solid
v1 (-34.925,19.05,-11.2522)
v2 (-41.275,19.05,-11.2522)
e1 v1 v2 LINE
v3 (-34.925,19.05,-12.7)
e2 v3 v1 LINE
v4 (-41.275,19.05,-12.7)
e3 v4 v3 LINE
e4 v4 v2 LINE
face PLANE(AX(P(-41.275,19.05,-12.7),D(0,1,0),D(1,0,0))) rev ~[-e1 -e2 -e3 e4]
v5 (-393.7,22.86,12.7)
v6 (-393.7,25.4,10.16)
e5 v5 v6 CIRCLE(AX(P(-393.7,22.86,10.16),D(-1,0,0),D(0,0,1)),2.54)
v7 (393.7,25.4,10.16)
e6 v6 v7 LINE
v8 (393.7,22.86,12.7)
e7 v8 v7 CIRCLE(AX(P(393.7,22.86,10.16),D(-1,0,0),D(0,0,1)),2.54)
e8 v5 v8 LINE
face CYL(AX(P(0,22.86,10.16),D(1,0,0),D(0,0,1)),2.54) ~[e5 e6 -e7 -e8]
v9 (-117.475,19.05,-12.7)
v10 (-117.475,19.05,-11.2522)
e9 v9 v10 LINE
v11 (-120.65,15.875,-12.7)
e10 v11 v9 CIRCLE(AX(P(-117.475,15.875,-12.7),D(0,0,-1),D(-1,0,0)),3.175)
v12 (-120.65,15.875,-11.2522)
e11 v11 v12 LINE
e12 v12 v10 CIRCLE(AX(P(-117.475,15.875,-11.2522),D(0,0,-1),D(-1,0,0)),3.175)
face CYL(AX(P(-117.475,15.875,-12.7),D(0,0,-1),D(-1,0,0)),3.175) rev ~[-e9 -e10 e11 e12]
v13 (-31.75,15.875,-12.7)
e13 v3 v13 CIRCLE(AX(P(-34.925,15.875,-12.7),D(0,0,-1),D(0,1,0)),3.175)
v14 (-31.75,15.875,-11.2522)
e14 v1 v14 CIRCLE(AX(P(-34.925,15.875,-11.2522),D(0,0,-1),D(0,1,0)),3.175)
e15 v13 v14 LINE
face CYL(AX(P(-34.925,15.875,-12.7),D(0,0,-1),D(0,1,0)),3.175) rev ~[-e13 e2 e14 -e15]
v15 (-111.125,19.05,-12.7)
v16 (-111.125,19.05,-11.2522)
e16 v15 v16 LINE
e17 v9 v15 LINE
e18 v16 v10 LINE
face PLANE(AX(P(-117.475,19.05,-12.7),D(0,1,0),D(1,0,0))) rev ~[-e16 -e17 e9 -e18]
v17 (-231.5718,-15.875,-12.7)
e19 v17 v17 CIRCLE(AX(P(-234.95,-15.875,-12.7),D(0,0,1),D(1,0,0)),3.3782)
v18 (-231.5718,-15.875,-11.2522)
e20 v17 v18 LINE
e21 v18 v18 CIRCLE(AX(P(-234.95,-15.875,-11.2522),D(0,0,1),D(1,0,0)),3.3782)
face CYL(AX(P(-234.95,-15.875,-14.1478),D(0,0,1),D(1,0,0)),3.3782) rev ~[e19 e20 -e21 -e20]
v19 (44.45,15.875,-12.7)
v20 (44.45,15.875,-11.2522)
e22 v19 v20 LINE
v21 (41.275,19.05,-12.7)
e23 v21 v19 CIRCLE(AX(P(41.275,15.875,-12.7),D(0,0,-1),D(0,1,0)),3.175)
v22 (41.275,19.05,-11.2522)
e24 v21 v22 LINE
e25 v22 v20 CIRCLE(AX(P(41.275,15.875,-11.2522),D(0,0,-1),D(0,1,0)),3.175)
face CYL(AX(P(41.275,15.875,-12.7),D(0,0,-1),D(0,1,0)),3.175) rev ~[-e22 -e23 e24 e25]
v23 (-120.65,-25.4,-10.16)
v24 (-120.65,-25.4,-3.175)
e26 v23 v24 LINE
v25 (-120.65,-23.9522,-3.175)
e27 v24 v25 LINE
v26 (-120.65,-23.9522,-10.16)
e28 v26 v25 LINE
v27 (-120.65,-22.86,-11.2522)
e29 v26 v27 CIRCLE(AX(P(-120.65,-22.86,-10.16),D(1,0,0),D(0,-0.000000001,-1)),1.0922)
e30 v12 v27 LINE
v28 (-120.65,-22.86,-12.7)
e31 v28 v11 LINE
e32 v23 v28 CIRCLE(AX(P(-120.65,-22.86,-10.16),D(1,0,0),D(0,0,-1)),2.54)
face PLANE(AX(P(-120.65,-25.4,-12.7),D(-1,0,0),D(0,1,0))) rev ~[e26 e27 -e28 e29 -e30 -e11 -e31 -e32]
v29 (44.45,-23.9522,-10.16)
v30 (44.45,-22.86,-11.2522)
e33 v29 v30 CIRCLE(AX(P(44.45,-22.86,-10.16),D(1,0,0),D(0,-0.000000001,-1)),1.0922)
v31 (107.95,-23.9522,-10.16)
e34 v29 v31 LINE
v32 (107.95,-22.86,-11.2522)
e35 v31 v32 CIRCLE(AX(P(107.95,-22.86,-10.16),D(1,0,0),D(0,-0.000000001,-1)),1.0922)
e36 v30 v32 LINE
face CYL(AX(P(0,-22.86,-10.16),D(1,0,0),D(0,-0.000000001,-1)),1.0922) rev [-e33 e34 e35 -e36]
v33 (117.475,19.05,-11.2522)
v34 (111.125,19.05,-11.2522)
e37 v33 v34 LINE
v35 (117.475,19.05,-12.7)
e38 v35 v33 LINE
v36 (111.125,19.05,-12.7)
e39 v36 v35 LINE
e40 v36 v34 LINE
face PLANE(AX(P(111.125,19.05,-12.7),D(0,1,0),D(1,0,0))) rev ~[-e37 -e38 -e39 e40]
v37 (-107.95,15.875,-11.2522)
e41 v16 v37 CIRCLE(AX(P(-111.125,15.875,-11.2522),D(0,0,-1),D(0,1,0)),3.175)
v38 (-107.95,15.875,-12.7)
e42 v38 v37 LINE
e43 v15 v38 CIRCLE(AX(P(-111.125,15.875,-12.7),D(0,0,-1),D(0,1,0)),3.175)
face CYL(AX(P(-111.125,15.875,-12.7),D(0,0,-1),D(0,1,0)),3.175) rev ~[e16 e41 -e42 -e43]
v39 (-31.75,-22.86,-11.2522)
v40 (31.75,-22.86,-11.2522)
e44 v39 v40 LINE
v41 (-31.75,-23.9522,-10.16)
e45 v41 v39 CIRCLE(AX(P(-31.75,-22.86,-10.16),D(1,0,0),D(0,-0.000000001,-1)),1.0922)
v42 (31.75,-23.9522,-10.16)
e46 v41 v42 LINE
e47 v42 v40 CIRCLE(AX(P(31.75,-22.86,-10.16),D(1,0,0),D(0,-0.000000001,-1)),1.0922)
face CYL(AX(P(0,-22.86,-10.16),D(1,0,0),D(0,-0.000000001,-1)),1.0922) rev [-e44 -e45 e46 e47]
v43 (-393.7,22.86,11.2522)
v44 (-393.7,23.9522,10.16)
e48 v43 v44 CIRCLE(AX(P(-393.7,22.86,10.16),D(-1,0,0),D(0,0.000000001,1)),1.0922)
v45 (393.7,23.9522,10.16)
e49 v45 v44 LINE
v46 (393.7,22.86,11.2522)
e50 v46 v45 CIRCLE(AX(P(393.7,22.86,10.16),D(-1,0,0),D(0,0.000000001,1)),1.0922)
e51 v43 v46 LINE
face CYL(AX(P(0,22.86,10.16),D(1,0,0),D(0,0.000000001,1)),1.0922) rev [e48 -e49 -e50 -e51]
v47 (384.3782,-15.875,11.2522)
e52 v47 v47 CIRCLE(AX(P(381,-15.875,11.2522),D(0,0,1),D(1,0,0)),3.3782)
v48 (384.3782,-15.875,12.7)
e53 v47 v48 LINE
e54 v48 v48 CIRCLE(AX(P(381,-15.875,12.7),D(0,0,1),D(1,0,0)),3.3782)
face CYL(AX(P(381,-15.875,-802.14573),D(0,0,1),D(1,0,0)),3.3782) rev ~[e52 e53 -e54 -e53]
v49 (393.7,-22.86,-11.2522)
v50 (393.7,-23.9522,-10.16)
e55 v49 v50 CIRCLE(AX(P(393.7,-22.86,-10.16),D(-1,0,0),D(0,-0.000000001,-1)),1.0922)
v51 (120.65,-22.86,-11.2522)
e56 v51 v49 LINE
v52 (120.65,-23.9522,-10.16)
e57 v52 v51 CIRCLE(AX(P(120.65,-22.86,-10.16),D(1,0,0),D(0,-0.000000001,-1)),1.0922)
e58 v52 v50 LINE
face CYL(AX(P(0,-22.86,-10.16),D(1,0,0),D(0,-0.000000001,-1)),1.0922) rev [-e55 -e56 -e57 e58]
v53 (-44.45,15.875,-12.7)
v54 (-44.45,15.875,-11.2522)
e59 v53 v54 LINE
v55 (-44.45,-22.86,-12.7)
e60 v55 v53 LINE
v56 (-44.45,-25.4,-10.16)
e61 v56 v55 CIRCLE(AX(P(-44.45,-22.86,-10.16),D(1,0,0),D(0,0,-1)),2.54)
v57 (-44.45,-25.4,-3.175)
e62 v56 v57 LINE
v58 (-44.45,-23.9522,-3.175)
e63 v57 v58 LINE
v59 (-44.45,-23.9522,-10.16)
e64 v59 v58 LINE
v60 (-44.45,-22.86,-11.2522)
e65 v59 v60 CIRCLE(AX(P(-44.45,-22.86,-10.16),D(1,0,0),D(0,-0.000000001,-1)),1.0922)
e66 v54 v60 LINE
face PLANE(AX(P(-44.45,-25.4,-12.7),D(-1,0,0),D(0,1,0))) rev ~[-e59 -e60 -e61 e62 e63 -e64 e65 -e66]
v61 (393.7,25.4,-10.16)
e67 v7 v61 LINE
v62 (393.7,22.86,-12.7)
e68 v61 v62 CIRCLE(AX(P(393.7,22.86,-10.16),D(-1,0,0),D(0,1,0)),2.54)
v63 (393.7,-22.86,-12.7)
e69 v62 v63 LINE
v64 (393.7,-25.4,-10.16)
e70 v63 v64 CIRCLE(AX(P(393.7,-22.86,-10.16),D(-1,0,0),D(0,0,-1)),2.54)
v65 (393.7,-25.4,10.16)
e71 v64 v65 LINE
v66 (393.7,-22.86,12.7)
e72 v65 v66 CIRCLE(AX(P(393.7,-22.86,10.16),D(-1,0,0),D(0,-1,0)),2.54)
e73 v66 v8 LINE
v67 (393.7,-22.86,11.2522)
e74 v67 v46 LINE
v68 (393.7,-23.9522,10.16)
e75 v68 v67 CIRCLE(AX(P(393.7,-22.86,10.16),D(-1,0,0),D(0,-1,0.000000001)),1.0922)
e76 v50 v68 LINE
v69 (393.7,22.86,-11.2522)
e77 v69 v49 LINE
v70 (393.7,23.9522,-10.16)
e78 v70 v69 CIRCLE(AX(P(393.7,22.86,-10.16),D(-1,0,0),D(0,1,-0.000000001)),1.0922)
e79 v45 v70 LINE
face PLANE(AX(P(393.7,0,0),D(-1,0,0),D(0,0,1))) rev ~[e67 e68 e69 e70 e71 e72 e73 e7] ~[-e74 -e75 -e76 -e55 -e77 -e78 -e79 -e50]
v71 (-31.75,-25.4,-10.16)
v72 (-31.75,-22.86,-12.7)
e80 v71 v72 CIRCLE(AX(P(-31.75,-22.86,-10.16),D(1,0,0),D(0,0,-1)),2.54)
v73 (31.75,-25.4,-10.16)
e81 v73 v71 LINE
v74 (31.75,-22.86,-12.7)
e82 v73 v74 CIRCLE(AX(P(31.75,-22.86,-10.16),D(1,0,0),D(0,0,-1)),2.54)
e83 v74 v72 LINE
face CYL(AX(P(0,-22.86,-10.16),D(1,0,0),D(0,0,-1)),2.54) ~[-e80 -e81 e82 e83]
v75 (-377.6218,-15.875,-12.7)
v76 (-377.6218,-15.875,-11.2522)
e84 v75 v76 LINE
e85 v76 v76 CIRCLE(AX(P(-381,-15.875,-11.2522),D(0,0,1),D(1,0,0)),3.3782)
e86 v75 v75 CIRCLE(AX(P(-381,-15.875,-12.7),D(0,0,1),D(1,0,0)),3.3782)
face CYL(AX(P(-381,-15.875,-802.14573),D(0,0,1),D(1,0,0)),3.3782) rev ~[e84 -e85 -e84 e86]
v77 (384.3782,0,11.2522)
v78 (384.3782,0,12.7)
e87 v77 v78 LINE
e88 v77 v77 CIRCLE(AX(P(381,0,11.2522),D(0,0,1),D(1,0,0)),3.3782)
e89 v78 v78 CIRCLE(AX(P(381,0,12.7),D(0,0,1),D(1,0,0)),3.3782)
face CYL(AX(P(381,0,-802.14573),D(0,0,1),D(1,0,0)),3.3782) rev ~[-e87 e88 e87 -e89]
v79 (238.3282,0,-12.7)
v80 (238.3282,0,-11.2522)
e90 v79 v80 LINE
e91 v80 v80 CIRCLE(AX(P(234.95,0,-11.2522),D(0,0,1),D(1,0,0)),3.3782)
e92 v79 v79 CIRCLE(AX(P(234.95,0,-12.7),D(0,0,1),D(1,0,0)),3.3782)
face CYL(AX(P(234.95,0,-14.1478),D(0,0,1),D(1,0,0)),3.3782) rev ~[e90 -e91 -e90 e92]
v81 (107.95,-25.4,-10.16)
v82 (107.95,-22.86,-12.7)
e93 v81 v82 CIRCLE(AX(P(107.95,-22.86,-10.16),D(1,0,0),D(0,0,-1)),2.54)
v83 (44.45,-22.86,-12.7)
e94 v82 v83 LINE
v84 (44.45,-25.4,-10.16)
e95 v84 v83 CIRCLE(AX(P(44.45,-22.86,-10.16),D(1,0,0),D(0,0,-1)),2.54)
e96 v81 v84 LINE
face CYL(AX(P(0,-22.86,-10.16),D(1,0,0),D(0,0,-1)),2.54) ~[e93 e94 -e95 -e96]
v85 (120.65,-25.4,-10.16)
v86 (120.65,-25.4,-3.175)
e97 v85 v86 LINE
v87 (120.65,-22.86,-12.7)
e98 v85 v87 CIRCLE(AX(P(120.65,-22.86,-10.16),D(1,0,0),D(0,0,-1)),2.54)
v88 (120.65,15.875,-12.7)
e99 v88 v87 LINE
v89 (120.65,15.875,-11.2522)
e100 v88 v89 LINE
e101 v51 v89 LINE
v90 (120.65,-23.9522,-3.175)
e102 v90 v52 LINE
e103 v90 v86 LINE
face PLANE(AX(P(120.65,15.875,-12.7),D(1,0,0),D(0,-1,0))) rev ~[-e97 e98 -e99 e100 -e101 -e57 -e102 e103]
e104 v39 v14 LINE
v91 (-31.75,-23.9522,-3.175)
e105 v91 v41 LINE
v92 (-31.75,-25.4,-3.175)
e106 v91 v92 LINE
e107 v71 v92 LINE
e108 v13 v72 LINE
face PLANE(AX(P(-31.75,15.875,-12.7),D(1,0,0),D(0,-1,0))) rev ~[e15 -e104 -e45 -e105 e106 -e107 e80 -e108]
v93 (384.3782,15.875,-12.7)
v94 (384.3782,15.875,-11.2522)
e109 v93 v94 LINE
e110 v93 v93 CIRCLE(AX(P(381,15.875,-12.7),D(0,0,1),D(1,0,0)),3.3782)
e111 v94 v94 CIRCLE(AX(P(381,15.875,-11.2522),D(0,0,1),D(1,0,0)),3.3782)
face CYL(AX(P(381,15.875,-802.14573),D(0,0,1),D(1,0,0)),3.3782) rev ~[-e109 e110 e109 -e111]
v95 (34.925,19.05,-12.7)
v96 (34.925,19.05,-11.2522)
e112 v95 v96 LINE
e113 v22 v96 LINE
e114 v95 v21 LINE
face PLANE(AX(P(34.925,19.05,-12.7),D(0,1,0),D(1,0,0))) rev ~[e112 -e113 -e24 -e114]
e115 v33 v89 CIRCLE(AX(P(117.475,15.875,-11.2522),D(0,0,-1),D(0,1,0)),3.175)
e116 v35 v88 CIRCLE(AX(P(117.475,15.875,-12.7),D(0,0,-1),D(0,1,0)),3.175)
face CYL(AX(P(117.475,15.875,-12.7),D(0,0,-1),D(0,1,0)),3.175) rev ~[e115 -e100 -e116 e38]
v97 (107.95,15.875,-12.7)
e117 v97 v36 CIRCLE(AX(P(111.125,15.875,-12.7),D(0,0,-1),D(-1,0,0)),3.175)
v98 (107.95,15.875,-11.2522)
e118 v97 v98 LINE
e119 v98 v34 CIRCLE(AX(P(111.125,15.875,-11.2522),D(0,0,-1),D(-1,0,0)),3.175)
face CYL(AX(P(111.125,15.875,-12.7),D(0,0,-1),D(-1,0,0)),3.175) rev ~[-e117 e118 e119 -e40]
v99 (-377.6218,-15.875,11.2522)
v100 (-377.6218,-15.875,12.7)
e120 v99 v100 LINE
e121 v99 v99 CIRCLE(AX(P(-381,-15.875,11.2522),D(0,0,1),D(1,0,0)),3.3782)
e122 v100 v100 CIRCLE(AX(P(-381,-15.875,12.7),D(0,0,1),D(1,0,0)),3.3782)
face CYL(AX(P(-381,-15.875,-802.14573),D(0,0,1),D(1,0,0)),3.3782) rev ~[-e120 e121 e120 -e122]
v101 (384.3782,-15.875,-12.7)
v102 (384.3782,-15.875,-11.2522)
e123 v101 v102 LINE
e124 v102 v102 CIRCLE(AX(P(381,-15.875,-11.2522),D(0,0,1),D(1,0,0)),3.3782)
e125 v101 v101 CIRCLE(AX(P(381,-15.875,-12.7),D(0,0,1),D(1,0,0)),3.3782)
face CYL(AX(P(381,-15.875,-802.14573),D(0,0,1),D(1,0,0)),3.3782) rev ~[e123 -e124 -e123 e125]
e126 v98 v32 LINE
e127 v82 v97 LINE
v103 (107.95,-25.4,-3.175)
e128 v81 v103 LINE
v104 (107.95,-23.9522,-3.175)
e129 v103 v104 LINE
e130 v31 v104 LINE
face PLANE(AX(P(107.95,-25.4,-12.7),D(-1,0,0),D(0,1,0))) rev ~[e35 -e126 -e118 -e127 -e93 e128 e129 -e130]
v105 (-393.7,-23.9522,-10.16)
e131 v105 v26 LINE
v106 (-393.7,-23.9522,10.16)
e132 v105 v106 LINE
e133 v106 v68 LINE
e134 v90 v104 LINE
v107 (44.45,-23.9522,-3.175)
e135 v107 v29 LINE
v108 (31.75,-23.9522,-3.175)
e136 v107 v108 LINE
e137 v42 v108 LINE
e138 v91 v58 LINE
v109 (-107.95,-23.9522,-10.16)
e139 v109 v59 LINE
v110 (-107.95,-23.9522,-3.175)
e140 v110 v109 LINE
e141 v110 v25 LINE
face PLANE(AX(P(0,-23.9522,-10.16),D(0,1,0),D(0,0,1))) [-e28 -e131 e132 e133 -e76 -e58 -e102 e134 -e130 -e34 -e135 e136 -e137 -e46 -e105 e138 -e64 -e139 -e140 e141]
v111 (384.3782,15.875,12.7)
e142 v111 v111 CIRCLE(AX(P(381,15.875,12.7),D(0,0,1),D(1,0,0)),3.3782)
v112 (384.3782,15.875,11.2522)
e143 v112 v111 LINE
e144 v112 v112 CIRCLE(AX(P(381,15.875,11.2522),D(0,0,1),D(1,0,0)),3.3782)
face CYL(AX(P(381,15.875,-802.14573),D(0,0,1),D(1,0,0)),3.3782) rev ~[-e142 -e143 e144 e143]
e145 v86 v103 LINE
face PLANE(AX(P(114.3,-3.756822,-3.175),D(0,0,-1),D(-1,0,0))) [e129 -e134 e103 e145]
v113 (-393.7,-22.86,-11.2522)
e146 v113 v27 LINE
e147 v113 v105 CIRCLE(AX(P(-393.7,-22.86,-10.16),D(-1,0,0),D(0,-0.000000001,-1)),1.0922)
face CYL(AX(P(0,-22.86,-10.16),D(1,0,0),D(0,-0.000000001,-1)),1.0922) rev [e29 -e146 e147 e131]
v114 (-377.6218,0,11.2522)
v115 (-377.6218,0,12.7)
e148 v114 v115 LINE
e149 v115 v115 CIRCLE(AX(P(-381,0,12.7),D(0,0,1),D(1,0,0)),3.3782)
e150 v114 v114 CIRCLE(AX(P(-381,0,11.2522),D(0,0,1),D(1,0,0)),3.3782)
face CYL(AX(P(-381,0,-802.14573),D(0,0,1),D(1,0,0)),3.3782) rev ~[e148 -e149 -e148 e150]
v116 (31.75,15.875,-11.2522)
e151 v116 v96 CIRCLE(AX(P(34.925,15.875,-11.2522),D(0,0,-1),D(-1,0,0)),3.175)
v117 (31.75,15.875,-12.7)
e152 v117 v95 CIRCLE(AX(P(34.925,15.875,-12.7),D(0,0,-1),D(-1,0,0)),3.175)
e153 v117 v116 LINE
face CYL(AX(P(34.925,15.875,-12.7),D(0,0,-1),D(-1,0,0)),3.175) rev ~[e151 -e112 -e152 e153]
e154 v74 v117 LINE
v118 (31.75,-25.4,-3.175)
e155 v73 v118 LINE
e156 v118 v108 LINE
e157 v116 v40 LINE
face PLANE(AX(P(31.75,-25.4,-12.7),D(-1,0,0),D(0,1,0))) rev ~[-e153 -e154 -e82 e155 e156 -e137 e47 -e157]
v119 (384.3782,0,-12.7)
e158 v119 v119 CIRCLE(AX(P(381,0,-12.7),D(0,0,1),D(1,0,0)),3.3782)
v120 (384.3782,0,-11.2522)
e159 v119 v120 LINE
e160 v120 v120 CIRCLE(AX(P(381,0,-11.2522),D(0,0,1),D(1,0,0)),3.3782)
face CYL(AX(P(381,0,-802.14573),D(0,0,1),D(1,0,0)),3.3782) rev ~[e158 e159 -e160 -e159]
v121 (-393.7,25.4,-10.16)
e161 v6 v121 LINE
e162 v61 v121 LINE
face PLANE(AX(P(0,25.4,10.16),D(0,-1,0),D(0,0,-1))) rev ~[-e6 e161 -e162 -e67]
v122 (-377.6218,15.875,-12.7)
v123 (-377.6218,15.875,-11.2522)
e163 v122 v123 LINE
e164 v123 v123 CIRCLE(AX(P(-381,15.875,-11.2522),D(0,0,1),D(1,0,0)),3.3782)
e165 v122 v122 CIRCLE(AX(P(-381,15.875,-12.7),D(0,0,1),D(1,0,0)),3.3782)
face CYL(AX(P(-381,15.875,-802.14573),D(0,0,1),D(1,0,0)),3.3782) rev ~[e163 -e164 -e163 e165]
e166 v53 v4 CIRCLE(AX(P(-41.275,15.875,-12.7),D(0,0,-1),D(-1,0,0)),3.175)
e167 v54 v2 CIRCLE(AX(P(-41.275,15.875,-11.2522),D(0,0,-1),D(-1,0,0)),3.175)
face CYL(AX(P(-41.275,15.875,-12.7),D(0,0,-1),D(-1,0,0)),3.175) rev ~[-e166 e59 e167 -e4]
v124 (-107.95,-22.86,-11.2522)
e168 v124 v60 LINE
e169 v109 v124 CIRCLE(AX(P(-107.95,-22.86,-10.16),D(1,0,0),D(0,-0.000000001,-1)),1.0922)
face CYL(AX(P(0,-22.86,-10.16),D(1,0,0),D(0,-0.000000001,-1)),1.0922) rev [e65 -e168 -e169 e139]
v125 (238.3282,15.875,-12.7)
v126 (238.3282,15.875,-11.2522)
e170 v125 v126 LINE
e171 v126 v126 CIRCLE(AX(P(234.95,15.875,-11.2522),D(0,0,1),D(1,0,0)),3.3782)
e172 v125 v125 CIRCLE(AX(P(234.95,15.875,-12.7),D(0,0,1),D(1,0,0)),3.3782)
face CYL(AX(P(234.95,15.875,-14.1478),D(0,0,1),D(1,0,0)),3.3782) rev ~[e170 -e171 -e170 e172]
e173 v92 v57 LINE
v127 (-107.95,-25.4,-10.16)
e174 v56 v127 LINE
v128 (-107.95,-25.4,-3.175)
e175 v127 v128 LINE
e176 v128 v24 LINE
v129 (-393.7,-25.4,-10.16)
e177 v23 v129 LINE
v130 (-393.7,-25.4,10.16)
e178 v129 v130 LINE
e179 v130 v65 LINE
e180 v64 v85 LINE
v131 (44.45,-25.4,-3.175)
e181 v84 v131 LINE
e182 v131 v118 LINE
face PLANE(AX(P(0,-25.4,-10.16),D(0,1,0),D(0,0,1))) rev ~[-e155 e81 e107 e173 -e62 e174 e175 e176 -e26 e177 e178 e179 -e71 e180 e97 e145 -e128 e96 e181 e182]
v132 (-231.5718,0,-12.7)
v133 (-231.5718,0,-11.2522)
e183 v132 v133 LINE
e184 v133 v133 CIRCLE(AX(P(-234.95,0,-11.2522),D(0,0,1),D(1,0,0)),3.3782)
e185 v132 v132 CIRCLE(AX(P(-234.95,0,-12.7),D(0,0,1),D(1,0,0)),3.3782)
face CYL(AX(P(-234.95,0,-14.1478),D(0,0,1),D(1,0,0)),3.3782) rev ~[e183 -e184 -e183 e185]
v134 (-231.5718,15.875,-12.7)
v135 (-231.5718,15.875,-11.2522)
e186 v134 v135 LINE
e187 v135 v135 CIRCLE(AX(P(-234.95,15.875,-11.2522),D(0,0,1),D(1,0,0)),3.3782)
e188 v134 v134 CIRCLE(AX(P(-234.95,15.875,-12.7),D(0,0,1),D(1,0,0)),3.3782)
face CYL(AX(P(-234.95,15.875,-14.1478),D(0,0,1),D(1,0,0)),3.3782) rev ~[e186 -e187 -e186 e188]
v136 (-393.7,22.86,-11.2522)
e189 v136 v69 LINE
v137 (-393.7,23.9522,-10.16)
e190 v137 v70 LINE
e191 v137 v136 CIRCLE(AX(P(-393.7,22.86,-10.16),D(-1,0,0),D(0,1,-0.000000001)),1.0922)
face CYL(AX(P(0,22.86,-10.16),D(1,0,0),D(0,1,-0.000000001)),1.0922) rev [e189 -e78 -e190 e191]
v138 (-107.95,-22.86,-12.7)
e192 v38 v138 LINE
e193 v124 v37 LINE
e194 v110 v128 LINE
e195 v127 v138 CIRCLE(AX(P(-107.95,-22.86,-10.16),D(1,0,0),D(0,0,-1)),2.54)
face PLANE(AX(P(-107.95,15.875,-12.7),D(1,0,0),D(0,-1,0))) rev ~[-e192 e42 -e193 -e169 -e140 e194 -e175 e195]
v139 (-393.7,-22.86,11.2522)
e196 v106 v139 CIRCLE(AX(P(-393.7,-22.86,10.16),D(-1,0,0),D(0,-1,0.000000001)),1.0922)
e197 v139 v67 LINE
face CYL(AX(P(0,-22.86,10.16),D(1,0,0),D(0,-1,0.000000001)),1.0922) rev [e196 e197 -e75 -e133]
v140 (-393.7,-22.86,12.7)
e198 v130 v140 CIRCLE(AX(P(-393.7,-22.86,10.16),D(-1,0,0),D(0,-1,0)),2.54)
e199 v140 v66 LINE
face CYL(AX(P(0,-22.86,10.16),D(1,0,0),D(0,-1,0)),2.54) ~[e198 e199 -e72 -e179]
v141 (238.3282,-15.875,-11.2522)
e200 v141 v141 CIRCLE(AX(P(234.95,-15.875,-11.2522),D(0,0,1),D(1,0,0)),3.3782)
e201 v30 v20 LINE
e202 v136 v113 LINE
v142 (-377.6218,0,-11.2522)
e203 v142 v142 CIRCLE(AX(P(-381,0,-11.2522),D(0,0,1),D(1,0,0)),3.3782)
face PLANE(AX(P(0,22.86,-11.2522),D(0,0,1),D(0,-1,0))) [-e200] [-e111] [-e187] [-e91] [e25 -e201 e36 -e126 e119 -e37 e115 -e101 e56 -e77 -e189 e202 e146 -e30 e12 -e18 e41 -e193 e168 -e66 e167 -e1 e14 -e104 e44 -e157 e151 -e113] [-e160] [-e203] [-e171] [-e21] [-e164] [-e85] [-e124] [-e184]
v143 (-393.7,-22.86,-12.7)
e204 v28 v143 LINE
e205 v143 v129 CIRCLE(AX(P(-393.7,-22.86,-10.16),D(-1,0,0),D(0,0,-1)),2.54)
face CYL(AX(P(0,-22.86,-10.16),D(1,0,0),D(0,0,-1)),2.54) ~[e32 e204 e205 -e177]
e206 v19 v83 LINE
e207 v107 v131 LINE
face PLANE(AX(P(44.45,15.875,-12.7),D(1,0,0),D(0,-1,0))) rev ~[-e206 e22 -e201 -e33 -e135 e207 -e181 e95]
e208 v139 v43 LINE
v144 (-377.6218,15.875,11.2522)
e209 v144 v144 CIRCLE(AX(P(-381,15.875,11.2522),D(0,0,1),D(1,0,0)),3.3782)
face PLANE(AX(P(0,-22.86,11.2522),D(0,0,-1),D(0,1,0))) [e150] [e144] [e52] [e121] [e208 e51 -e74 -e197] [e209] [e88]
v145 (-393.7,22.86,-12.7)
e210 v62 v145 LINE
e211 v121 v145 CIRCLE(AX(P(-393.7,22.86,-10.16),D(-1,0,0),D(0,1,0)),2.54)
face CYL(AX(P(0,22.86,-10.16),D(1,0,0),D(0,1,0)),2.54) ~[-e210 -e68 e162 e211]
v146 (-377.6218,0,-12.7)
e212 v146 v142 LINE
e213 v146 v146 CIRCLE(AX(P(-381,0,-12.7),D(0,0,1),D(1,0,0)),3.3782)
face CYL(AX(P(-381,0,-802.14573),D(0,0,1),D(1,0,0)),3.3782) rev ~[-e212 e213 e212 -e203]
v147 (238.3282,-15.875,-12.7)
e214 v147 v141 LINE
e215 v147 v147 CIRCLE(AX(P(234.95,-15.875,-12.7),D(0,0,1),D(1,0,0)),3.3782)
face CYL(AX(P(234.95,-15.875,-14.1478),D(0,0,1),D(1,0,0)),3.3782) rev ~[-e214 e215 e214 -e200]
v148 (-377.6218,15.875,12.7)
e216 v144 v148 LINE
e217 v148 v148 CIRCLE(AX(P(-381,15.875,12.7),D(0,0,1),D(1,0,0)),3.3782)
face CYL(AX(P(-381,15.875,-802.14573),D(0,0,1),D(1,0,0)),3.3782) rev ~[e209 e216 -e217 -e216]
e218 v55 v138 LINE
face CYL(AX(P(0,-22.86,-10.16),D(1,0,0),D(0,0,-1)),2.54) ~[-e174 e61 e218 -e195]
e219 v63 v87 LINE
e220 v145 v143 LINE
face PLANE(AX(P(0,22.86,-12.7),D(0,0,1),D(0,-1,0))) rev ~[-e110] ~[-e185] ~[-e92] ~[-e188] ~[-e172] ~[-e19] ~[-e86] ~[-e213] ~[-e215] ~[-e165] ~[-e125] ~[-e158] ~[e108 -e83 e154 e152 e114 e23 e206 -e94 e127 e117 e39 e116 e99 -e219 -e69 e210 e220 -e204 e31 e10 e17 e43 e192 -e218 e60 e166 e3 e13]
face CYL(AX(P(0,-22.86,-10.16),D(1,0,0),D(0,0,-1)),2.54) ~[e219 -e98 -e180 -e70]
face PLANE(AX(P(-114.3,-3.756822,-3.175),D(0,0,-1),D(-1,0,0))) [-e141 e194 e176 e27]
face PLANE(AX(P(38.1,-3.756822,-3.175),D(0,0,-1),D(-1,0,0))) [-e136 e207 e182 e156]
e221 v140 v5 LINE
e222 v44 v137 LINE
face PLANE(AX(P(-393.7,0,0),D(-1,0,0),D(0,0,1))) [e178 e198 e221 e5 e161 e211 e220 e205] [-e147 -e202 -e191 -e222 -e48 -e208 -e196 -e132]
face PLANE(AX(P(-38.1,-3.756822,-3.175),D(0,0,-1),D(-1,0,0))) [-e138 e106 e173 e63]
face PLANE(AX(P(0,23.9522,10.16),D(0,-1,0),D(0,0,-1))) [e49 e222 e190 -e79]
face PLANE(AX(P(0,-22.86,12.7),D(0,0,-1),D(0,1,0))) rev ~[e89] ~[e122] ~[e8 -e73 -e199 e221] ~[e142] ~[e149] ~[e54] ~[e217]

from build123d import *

# Parameters (mm, degrees)
EXTRUDE_THIN1_DEPTH         = 393.7
F_1_4_CLEARANCE_HOLE1_D     = 6.7564
F_1_4_CLEARANCE_HOLE2_D     = 6.7564
F_1_4_CLEARANCE_HOLE2_DEPTH = 1.4478
CUT_EXTRUDE1_DEPTH          = 9.525


with BuildPart() as part:
    # Sketch1 → Extrude-Thin1 (new, symmetric)
    with BuildSketch(Plane(origin=(0, 0, 0), x_dir=(0, 0, -1), z_dir=(1, 0, 0))):
        with BuildLine():
            Line((-10.16, 25.4), (10.16, 25.4))
            ThreePointArc((10.16, 25.4), (11.956051224, 24.656051224), (12.7, 22.86))
            Line((12.7, 22.86), (12.7, -22.86))
            ThreePointArc((12.7, -22.86), (11.956051224, -24.656051224), (10.16, -25.4))
            Line((10.16, -25.4), (-10.16, -25.4))
            ThreePointArc((-10.16, -25.4), (-11.956051224, -24.656051224), (-12.7, -22.86))
            Line((-12.7, -22.86), (-12.7, 22.86))
            ThreePointArc((-12.7, 22.86), (-11.956051224, 24.656051224), (-10.16, 25.4))
        make_face()
        with BuildLine():
            Line((-10.16, 23.9522), (10.16, 23.9522))
            ThreePointArc((10.16, 23.9522), (10.932302026, 23.632302026), (11.2522, 22.86))
            Line((11.2522, 22.86), (11.2522, -22.86))
            ThreePointArc((11.2522, -22.86), (10.932302026, -23.632302026), (10.16, -23.9522))
            Line((10.16, -23.9522), (-10.16, -23.9522))
            ThreePointArc((-10.16, -23.9522), (-10.932302026, -23.632302026), (-11.2522, -22.86))
            Line((-11.2522, -22.86), (-11.2522, 22.86))
            ThreePointArc((-11.2522, 22.86), (-10.932302026, 23.632302026), (-10.16, 23.9522))
        make_face(mode=Mode.SUBTRACT)
    extrude(amount=EXTRUDE_THIN1_DEPTH, both=True)

    # 1/4 Clearance Hole1 (through all)
    with Locations(Plane(origin=(0, 0, -12.7), x_dir=(-1, 0, 0), z_dir=(0, 0, -1))):
        with Locations((-381, 15.875), (-381, -15.875), (-381, 0), (381, -15.875), (381, 0), (381, 15.875)):
            Hole(F_1_4_CLEARANCE_HOLE1_D / 2)

    # 1/4 Clearance Hole2
    with Locations(Plane(origin=(0, 0, -12.7), x_dir=(-1, 0, 0), z_dir=(0, 0, -1))):
        with Locations((-234.95, 15.875), (-234.95, 0), (-234.95, -15.875), (234.95, -15.875), (234.95, 0), (234.95, 15.875)):
            Hole(F_1_4_CLEARANCE_HOLE2_D / 2, depth=F_1_4_CLEARANCE_HOLE2_DEPTH)

    # Sketch6 → Cut-Extrude1 (cut)
    with BuildSketch(Plane(origin=(0, 0, -12.7), x_dir=(-1, 0, 0), z_dir=(0, 0, -1))):
        with BuildLine():
            Line((-120.65, -25.4), (-107.95, -25.4))
            Line((-107.95, -25.4), (-107.95, 15.875))
            ThreePointArc((-107.95, 15.875), (-108.87993597, 18.12006403), (-111.125, 19.05))
            Line((-111.125, 19.05), (-117.475, 19.05))
            ThreePointArc((-117.475, 19.05), (-119.72006403, 18.12006403), (-120.65, 15.875))
            Line((-120.65, 15.875), (-120.65, -25.4))
        make_face()
        with BuildLine():
            Line((-44.45, -25.4), (-31.75, -25.4))
            Line((-31.75, -25.4), (-31.75, 15.875))
            ThreePointArc((-31.75, 15.875), (-32.67993597, 18.12006403), (-34.925, 19.05))
            Line((-34.925, 19.05), (-41.275, 19.05))
            ThreePointArc((-41.275, 19.05), (-43.52006403, 18.12006403), (-44.45, 15.875))
            Line((-44.45, 15.875), (-44.45, -25.4))
        make_face()
        with BuildLine():
            Line((31.75, -25.4), (44.45, -25.4))
            Line((44.45, -25.4), (44.45, 15.875))
            ThreePointArc((44.45, 15.875), (43.52006403, 18.12006403), (41.275, 19.05))
            Line((41.275, 19.05), (34.925, 19.05))
            ThreePointArc((34.925, 19.05), (32.67993597, 18.12006403), (31.75, 15.875))
            Line((31.75, 15.875), (31.75, -25.4))
        make_face()
        with BuildLine():
            Line((107.95, -25.4), (120.65, -25.4))
            Line((120.65, -25.4), (120.65, 15.875))
            ThreePointArc((120.65, 15.875), (119.72006403, 18.12006403), (117.475, 19.05))
            Line((117.475, 19.05), (111.125, 19.05))
            ThreePointArc((111.125, 19.05), (108.87993597, 18.12006403), (107.95, 15.875))
            Line((107.95, 15.875), (107.95, -25.4))
        make_face()
    extrude(amount=-CUT_EXTRUDE1_DEPTH, mode=Mode.SUBTRACT)


solid = part.part
